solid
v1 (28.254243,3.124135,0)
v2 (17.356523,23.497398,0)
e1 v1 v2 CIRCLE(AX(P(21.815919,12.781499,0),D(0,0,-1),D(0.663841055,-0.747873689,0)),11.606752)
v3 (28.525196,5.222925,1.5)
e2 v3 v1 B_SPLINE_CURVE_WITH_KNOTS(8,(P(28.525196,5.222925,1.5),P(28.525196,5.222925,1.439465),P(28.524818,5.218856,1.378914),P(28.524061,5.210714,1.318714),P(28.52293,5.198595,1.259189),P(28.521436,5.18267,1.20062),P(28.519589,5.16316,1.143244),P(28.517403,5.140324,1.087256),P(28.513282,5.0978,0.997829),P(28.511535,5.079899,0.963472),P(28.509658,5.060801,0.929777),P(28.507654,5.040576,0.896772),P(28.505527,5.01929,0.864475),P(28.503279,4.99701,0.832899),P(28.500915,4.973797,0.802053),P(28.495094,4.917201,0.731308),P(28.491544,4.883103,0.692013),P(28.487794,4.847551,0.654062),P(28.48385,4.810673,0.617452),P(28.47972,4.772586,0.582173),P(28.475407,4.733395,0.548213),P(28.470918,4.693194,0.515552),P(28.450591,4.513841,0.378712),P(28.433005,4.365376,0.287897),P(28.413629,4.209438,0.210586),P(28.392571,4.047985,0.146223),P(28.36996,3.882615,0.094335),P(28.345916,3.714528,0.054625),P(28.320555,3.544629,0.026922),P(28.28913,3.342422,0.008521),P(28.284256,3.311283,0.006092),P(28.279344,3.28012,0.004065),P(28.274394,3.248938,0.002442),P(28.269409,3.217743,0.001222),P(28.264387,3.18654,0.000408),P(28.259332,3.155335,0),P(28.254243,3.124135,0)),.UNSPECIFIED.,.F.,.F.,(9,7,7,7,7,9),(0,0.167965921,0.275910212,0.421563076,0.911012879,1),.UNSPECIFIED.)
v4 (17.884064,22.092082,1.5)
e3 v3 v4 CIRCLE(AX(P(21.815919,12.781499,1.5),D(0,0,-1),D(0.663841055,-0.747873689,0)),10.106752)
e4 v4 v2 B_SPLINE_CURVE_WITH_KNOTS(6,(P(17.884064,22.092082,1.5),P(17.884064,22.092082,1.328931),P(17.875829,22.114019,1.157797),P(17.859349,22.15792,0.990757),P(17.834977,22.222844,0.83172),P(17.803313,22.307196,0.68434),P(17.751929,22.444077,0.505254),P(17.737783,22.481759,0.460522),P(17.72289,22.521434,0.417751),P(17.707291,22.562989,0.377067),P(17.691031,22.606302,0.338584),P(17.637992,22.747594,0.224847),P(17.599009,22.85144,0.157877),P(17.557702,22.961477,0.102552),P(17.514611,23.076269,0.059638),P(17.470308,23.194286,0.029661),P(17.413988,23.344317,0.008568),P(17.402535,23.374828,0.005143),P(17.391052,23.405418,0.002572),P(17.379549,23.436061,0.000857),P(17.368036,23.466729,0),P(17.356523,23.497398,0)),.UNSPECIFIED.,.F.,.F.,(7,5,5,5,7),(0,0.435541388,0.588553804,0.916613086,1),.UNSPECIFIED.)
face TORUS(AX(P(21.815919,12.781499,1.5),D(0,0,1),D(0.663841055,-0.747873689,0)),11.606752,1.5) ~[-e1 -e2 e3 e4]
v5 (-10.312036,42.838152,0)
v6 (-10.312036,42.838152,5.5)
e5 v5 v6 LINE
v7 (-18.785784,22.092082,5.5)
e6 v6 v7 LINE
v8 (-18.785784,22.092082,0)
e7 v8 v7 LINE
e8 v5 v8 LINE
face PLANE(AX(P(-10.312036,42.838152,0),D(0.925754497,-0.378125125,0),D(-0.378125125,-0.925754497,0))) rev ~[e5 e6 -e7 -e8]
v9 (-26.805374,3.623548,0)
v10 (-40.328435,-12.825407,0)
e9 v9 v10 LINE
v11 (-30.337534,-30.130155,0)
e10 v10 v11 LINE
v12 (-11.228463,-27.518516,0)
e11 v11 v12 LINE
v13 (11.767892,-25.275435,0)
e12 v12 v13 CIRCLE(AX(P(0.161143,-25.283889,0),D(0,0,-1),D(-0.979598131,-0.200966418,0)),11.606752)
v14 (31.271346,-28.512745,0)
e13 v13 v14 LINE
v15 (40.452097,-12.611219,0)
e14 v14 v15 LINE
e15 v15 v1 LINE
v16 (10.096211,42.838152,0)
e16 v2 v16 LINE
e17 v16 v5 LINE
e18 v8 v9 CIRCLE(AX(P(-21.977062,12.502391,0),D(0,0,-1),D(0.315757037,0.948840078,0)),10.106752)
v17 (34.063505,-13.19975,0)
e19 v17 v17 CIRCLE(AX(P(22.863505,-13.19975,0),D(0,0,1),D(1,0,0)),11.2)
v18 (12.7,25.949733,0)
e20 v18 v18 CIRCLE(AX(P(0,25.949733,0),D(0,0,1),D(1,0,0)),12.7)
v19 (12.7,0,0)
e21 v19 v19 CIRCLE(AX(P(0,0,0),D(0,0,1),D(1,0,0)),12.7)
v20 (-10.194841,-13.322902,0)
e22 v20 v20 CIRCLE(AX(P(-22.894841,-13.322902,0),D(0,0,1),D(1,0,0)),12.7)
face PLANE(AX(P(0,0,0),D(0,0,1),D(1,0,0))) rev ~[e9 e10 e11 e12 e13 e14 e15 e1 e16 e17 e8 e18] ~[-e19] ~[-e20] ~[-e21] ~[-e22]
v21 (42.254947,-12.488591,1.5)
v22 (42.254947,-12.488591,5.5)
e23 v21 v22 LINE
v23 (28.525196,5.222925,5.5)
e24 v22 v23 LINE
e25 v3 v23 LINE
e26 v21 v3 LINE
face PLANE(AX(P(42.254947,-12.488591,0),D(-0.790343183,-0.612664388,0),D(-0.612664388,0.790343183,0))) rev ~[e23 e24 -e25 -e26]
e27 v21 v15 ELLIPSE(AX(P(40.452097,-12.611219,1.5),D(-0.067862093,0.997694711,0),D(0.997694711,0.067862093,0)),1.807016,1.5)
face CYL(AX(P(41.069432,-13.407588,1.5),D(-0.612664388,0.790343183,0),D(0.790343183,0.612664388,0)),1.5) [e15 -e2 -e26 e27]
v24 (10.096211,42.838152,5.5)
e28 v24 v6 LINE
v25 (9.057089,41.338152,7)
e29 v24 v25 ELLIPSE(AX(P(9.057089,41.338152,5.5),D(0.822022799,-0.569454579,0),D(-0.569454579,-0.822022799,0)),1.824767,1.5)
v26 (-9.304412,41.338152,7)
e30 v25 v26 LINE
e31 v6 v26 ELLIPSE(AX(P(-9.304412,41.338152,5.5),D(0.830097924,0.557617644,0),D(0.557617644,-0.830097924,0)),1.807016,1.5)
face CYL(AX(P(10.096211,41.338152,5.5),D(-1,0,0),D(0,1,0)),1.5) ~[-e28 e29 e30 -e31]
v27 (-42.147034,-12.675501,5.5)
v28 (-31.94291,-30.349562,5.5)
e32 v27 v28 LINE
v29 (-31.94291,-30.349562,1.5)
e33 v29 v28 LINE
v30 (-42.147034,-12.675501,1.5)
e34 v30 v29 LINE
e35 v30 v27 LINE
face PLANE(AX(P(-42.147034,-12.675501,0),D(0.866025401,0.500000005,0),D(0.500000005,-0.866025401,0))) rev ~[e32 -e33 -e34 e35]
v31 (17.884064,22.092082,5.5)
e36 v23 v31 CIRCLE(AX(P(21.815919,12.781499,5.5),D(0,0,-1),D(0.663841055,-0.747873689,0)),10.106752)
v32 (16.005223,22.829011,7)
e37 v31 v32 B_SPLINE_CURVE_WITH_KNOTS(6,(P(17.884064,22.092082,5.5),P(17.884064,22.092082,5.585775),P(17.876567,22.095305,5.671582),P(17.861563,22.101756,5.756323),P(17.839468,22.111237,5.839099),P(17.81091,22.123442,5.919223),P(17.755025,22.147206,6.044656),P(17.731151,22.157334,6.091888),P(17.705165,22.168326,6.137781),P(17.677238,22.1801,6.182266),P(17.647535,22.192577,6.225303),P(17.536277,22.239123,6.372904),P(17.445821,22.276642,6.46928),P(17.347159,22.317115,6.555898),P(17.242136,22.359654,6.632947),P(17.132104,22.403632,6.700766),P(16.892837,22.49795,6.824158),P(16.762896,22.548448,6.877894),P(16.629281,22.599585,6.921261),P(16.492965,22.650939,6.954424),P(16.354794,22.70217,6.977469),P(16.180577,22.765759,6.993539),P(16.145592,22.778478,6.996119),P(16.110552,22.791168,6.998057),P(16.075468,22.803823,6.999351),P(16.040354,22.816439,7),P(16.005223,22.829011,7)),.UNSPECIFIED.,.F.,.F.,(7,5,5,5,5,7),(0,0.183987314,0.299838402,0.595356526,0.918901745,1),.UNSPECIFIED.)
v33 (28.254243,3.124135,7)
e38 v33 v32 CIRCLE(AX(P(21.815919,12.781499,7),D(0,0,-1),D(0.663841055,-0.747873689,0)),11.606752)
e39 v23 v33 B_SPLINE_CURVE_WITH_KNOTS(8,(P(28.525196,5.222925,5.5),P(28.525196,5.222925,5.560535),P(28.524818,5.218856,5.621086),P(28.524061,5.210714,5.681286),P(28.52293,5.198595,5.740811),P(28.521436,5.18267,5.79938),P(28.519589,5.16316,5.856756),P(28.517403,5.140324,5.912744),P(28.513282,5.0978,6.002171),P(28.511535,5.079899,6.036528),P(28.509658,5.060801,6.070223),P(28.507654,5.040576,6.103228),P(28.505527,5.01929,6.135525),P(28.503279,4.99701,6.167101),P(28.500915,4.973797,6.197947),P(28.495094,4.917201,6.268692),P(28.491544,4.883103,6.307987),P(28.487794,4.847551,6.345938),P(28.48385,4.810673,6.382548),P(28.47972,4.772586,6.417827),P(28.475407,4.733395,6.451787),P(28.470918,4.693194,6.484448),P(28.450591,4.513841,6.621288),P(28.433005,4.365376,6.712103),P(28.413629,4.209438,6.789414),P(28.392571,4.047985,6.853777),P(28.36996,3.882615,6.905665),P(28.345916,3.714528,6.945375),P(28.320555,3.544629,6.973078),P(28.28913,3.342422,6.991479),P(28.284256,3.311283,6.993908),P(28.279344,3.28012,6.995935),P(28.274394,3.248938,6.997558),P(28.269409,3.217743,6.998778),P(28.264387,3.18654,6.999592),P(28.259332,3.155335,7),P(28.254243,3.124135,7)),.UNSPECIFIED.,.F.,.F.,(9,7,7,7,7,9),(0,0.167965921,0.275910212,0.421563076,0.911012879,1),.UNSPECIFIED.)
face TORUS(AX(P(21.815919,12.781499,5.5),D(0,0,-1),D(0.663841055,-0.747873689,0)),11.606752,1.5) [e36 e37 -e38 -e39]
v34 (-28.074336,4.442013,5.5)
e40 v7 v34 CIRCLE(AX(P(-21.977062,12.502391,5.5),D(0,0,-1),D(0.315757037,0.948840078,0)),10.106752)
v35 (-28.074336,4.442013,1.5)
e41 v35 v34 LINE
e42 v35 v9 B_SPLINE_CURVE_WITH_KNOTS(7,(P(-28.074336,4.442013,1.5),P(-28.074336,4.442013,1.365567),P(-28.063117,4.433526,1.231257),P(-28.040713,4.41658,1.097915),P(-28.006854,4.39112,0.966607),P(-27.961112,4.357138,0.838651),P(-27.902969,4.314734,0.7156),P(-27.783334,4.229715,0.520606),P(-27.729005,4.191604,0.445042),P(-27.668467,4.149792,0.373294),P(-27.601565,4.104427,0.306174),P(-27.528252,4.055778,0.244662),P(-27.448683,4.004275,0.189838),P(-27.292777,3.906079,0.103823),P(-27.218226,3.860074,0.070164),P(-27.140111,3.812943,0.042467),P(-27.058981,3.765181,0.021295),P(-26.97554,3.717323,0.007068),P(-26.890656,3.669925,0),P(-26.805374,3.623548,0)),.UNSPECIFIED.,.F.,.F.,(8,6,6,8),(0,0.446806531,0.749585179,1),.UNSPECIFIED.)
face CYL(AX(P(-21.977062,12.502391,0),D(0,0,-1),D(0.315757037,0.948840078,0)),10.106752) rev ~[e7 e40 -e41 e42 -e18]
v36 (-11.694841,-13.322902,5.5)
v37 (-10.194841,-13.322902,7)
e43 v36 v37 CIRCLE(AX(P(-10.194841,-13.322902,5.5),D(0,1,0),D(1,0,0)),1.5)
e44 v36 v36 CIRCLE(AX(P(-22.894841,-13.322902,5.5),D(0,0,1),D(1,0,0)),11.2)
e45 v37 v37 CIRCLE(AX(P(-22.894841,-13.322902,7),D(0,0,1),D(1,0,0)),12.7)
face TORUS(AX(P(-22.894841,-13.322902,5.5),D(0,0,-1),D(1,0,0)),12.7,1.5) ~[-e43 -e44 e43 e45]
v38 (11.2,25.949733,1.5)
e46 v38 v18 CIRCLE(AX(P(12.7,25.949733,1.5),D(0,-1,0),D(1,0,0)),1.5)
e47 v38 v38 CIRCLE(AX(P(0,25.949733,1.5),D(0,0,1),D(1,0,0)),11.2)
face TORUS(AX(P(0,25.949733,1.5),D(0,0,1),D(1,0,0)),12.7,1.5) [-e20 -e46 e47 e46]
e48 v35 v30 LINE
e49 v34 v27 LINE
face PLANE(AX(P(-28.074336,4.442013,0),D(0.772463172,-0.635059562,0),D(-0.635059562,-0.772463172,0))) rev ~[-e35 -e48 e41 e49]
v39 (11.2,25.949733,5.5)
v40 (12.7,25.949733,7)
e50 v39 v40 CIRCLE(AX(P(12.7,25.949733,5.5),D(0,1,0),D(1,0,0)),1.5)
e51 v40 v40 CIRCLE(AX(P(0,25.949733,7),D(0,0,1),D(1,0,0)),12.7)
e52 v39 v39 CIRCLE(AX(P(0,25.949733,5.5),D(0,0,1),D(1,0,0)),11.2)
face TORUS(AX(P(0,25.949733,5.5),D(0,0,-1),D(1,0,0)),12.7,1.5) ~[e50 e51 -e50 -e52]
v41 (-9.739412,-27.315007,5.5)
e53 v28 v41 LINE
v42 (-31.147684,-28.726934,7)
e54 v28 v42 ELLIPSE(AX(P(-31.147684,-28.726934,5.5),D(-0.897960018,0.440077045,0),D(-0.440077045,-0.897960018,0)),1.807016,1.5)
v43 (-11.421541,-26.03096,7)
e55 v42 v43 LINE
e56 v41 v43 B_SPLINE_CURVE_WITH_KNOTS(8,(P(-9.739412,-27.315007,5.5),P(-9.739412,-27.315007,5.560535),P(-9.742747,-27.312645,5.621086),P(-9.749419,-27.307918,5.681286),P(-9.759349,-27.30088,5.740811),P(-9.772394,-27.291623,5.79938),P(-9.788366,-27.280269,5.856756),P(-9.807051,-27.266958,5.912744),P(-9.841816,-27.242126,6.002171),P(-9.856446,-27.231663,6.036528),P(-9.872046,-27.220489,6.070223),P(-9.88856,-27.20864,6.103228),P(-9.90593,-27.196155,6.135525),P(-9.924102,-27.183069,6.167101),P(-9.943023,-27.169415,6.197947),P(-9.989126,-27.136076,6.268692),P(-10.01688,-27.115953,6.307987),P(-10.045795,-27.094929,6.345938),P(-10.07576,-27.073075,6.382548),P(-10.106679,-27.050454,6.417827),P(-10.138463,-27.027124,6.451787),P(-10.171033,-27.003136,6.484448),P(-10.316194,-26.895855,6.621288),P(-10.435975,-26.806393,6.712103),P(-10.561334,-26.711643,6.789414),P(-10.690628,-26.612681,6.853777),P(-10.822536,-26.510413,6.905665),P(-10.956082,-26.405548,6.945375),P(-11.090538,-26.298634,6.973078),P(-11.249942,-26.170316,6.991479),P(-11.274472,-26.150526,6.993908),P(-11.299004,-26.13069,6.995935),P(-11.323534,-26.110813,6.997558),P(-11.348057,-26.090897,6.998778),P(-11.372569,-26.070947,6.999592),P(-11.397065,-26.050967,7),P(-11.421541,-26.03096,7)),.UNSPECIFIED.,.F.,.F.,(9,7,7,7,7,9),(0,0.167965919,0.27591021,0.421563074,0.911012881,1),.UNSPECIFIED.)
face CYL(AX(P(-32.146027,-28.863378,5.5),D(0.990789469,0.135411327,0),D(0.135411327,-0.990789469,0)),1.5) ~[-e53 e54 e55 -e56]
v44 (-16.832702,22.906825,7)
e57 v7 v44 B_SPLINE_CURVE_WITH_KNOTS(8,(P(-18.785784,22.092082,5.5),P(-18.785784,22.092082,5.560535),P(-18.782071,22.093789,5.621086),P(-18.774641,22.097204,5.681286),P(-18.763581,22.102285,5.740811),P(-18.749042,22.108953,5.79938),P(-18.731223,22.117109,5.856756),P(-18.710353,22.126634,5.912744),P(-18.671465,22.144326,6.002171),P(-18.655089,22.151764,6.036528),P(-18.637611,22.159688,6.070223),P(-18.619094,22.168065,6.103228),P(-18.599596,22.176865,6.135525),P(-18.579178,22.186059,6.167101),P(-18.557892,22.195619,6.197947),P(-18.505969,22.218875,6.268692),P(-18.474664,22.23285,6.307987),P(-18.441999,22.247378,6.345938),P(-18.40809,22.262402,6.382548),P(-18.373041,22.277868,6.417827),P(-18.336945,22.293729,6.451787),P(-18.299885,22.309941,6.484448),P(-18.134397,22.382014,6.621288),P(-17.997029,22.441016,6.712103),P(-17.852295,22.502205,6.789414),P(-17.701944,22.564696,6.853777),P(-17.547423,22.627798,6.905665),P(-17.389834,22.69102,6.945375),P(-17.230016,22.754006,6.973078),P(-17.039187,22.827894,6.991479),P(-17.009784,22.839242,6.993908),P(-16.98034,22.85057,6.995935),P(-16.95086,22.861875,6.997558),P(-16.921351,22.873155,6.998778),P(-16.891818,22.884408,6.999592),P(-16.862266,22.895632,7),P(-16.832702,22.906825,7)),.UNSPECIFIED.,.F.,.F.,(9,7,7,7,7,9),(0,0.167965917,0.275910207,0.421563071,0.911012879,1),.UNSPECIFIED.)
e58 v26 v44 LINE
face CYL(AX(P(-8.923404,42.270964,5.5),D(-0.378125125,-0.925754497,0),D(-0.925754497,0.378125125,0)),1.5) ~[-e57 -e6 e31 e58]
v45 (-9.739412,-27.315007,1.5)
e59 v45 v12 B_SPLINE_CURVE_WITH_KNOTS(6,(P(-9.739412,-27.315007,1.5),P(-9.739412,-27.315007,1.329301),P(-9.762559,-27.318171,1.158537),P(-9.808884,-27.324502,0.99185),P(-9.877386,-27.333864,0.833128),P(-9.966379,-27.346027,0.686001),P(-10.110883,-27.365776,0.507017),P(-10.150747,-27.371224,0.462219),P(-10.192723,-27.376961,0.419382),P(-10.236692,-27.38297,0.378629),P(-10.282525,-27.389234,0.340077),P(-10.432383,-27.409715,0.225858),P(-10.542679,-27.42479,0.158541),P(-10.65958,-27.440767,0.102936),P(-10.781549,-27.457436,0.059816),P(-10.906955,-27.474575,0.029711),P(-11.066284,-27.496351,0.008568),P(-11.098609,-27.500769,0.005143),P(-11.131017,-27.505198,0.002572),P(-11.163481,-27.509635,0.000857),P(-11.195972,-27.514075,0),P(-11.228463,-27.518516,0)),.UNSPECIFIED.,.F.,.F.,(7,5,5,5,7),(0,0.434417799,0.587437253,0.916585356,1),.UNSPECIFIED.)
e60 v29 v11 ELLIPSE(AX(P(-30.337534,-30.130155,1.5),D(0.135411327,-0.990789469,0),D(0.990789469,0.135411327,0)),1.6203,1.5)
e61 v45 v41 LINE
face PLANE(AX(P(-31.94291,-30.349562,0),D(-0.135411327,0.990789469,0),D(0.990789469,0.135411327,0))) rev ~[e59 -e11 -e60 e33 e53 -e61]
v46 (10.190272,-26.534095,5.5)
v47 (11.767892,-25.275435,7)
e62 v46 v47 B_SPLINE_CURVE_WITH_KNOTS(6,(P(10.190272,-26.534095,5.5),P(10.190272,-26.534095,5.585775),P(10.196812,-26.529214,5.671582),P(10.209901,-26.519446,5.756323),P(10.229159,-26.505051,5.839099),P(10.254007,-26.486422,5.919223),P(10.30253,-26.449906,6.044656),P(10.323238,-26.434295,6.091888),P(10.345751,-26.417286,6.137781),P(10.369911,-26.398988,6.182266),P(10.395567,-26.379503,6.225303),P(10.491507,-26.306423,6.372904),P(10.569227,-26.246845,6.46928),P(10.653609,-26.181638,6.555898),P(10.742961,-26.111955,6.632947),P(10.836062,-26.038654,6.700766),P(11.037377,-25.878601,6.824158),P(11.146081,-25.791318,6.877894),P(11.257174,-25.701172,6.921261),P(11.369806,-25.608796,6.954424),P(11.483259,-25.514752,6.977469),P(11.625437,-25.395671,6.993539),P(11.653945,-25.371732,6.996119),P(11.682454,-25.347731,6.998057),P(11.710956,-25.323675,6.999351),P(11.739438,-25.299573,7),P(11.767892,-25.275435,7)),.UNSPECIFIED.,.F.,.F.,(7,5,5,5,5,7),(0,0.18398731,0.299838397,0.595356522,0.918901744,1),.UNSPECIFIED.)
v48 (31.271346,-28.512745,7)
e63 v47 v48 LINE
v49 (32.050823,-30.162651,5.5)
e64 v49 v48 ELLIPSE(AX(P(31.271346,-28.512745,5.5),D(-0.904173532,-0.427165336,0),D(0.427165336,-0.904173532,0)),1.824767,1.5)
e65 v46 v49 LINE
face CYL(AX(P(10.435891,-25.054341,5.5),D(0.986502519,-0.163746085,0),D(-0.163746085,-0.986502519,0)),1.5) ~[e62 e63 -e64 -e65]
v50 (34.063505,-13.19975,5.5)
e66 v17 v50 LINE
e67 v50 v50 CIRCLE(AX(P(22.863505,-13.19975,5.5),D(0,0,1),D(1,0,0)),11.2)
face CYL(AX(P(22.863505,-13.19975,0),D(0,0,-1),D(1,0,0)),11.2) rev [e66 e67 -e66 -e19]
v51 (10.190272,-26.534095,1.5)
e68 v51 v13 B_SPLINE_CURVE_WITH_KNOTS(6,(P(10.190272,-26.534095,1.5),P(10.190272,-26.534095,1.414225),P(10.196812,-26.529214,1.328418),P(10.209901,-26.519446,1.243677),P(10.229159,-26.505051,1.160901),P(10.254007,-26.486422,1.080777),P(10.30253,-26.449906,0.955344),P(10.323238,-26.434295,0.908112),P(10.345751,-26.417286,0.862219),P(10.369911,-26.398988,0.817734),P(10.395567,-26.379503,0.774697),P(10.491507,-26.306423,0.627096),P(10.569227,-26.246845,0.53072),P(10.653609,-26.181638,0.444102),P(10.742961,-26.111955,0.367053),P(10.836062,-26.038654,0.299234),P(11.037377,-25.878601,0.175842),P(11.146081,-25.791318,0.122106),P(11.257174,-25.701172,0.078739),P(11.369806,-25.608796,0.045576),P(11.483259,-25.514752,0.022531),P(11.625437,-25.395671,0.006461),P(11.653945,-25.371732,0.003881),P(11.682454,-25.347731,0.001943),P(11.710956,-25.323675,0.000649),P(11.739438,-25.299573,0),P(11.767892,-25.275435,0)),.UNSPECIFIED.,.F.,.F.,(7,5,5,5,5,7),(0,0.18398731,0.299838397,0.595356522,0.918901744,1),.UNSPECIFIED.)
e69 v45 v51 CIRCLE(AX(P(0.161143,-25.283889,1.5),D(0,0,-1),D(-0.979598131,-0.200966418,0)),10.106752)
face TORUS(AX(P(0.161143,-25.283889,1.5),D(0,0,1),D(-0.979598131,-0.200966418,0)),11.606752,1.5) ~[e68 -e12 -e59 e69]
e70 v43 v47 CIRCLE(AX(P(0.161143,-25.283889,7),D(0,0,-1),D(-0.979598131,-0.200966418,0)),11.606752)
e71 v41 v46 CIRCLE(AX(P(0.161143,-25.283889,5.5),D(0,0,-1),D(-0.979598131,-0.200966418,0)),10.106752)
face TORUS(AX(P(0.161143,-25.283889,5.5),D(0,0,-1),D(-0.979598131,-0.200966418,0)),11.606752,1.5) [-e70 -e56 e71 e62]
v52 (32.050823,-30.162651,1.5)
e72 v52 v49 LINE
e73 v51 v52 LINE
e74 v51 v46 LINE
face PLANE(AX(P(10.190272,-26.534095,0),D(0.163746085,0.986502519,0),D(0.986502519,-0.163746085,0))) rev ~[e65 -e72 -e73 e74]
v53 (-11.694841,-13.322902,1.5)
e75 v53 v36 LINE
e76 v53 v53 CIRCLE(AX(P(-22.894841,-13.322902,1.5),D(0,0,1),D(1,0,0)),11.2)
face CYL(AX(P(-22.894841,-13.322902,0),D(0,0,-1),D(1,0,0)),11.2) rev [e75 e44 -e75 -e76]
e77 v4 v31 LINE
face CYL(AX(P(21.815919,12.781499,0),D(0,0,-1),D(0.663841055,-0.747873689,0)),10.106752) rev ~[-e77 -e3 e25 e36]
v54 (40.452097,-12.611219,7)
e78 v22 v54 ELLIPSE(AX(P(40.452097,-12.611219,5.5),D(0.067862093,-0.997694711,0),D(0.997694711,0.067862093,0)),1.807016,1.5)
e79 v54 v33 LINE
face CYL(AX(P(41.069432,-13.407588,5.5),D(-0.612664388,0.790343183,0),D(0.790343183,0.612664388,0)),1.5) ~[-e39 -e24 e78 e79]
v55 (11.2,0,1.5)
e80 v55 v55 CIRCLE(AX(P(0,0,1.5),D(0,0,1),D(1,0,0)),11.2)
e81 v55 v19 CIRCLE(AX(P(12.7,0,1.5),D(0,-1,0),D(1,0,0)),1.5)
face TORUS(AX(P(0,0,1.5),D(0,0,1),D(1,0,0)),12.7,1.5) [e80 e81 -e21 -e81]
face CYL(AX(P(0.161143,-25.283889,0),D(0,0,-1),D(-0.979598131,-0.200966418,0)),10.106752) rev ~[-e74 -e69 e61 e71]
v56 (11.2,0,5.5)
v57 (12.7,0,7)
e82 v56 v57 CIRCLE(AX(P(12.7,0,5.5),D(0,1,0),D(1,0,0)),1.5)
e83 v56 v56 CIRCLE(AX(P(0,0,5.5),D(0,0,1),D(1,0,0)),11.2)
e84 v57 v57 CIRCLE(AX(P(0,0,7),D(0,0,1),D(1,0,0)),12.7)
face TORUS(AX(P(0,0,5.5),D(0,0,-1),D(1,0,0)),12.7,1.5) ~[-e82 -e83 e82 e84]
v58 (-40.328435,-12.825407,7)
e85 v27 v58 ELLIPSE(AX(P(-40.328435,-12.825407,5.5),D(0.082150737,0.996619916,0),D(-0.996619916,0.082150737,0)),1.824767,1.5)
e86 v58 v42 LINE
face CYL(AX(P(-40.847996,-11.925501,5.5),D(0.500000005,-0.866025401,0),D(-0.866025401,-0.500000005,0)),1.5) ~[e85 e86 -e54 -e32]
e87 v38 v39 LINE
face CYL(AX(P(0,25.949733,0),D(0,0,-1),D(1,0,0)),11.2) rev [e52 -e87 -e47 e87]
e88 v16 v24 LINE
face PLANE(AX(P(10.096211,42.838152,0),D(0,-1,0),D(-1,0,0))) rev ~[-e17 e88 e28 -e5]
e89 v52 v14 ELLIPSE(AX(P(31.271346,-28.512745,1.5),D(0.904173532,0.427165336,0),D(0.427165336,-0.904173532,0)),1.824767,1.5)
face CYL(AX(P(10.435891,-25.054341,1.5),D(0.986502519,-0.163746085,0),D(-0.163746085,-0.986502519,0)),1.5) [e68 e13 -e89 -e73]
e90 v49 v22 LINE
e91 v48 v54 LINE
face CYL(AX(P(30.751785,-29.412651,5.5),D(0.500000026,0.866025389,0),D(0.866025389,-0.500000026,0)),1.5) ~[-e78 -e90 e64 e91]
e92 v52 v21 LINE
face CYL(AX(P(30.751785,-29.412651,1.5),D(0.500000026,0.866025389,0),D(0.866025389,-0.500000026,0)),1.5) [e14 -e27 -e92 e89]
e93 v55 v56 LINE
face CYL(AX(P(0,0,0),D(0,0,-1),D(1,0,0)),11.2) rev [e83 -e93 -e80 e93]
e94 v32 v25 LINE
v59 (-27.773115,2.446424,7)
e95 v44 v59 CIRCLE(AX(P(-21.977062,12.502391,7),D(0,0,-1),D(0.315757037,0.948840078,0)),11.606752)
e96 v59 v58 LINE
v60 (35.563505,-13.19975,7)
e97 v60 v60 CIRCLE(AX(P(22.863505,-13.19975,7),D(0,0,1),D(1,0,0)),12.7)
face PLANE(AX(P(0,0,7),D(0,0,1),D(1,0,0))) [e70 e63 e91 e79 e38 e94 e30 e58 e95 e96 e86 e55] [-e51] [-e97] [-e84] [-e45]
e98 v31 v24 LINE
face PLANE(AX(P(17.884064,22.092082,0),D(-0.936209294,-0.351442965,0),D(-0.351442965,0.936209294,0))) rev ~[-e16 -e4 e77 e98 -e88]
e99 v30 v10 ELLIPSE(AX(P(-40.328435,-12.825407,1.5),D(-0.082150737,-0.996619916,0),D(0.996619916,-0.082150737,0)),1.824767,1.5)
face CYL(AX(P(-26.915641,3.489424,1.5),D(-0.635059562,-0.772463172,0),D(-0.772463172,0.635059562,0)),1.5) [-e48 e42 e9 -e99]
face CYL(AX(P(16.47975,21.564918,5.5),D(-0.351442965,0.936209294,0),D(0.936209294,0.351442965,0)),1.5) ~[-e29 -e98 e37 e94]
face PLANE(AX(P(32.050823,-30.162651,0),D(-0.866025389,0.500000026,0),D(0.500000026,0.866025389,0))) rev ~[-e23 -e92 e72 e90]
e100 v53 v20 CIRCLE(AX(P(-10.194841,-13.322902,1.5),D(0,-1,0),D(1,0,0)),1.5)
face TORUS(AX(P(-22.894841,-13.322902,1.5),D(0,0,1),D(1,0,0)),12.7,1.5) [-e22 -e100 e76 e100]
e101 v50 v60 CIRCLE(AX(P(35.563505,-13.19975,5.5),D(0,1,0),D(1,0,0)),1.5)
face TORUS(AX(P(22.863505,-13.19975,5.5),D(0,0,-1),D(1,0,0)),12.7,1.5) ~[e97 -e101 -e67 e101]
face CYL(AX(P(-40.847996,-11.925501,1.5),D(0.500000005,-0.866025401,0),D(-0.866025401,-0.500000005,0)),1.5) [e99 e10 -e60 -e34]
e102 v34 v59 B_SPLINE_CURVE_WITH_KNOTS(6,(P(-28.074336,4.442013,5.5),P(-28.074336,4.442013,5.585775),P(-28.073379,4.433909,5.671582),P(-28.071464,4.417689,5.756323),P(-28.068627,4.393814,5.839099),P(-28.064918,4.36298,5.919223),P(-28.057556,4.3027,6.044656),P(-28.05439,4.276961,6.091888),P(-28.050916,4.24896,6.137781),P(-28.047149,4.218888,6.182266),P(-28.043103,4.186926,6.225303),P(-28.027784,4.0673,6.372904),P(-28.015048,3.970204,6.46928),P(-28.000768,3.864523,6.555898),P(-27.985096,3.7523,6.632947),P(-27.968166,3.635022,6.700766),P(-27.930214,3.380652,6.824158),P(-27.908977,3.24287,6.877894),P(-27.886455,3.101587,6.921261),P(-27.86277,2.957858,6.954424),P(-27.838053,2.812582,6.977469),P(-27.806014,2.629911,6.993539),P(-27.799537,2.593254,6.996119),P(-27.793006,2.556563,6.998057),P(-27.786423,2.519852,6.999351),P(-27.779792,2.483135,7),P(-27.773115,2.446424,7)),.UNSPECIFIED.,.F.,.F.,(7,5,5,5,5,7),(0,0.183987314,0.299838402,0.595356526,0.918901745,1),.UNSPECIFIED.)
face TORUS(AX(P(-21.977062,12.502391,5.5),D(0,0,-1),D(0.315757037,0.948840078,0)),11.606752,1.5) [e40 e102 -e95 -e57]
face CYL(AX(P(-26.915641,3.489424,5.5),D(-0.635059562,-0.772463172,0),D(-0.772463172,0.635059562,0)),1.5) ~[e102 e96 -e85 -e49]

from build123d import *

# Parameters (mm, degrees)
F0_R     = 11.2
F1_DEPTH = 7
F2_R     = 1.5


with BuildPart() as f1:
    # F0 (on Top) → F1 (new body)
    with BuildSketch(Plane.XY):
        with BuildLine():
            Line((10.096211, 42.838152), (-10.312036, 42.838152))
            Line((-10.312036, 42.838152), (-18.785784, 22.092082))
            ThreePointArc((-18.785784, 22.092082), (-13.033213, 7.795587), (-28.074336, 4.442013))
            Line((-28.074336, 4.442013), (-42.147034, -12.675501))
            Line((-42.147034, -12.675501), (-31.94291, -30.349562))
            Line((-31.94291, -30.349562), (-9.739412, -27.315007))
            ThreePointArc((-9.739412, -27.315007), (-0.23457, -15.184887), (10.190272, -26.534095))
            Line((10.190272, -26.534095), (32.050823, -30.162651))
            Line((32.050823, -30.162651), (42.254947, -12.488591))
            Line((42.254947, -12.488591), (28.525196, 5.222925))
            ThreePointArc((28.525196, 5.222925), (13.267783, 7.3893), (17.884064, 22.092082))
            Line((17.884064, 22.092082), (10.096211, 42.838152))
        make_face()
        with Locations((-22.894841, -13.322902)):
            Circle(F0_R, mode=Mode.SUBTRACT)
        Circle(F0_R, mode=Mode.SUBTRACT)
        with Locations((22.863505, -13.19975)):
            Circle(F0_R, mode=Mode.SUBTRACT)
        with Locations((0, 25.949733)):
            Circle(F0_R, mode=Mode.SUBTRACT)
    extrude(amount=F1_DEPTH)

    # F2
    f2_edges = [f1.edges().sort_by_distance(p)[0] for p in [
        (-14.54891, 32.465117, 7),
        (-0.107913, 42.838152, 7),
        (13.990138, 32.465117, 7),
        (13.267783, 7.3893, 7),
        (-35.110685, -4.116744, 7),
        (-37.044972, -21.512531, 7),
        (-13.033213, 7.795587, 7),
        (-20.841161, -28.832284, 7),
        (-0.23457, -15.184887, 7),
        (21.120547, -28.348373, 7),
        (37.152885, -21.325621, 7),
        (35.390071, -3.632833, 7),
        (-34.094841, -13.322902, 7),
        (-11.2, 0, 7),
        (11.663505, -13.19975, 7),
        (-11.2, 25.949733, 7),
        (-0.23457, -15.184887, 0),
        (-37.044972, -21.512531, 0),
        (-34.094841, -13.322902, 0),
        (-35.110685, -4.116744, 0),
        (-11.2, 25.949733, 0),
        (-11.2, 0, 0),
        (21.120547, -28.348373, 0),
        (37.152885, -21.325621, 0),
        (35.390071, -3.632833, 0),
        (13.267783, 7.3893, 0),
    ]]
    fillet(f2_edges, radius=F2_R)


solid = f1.part
